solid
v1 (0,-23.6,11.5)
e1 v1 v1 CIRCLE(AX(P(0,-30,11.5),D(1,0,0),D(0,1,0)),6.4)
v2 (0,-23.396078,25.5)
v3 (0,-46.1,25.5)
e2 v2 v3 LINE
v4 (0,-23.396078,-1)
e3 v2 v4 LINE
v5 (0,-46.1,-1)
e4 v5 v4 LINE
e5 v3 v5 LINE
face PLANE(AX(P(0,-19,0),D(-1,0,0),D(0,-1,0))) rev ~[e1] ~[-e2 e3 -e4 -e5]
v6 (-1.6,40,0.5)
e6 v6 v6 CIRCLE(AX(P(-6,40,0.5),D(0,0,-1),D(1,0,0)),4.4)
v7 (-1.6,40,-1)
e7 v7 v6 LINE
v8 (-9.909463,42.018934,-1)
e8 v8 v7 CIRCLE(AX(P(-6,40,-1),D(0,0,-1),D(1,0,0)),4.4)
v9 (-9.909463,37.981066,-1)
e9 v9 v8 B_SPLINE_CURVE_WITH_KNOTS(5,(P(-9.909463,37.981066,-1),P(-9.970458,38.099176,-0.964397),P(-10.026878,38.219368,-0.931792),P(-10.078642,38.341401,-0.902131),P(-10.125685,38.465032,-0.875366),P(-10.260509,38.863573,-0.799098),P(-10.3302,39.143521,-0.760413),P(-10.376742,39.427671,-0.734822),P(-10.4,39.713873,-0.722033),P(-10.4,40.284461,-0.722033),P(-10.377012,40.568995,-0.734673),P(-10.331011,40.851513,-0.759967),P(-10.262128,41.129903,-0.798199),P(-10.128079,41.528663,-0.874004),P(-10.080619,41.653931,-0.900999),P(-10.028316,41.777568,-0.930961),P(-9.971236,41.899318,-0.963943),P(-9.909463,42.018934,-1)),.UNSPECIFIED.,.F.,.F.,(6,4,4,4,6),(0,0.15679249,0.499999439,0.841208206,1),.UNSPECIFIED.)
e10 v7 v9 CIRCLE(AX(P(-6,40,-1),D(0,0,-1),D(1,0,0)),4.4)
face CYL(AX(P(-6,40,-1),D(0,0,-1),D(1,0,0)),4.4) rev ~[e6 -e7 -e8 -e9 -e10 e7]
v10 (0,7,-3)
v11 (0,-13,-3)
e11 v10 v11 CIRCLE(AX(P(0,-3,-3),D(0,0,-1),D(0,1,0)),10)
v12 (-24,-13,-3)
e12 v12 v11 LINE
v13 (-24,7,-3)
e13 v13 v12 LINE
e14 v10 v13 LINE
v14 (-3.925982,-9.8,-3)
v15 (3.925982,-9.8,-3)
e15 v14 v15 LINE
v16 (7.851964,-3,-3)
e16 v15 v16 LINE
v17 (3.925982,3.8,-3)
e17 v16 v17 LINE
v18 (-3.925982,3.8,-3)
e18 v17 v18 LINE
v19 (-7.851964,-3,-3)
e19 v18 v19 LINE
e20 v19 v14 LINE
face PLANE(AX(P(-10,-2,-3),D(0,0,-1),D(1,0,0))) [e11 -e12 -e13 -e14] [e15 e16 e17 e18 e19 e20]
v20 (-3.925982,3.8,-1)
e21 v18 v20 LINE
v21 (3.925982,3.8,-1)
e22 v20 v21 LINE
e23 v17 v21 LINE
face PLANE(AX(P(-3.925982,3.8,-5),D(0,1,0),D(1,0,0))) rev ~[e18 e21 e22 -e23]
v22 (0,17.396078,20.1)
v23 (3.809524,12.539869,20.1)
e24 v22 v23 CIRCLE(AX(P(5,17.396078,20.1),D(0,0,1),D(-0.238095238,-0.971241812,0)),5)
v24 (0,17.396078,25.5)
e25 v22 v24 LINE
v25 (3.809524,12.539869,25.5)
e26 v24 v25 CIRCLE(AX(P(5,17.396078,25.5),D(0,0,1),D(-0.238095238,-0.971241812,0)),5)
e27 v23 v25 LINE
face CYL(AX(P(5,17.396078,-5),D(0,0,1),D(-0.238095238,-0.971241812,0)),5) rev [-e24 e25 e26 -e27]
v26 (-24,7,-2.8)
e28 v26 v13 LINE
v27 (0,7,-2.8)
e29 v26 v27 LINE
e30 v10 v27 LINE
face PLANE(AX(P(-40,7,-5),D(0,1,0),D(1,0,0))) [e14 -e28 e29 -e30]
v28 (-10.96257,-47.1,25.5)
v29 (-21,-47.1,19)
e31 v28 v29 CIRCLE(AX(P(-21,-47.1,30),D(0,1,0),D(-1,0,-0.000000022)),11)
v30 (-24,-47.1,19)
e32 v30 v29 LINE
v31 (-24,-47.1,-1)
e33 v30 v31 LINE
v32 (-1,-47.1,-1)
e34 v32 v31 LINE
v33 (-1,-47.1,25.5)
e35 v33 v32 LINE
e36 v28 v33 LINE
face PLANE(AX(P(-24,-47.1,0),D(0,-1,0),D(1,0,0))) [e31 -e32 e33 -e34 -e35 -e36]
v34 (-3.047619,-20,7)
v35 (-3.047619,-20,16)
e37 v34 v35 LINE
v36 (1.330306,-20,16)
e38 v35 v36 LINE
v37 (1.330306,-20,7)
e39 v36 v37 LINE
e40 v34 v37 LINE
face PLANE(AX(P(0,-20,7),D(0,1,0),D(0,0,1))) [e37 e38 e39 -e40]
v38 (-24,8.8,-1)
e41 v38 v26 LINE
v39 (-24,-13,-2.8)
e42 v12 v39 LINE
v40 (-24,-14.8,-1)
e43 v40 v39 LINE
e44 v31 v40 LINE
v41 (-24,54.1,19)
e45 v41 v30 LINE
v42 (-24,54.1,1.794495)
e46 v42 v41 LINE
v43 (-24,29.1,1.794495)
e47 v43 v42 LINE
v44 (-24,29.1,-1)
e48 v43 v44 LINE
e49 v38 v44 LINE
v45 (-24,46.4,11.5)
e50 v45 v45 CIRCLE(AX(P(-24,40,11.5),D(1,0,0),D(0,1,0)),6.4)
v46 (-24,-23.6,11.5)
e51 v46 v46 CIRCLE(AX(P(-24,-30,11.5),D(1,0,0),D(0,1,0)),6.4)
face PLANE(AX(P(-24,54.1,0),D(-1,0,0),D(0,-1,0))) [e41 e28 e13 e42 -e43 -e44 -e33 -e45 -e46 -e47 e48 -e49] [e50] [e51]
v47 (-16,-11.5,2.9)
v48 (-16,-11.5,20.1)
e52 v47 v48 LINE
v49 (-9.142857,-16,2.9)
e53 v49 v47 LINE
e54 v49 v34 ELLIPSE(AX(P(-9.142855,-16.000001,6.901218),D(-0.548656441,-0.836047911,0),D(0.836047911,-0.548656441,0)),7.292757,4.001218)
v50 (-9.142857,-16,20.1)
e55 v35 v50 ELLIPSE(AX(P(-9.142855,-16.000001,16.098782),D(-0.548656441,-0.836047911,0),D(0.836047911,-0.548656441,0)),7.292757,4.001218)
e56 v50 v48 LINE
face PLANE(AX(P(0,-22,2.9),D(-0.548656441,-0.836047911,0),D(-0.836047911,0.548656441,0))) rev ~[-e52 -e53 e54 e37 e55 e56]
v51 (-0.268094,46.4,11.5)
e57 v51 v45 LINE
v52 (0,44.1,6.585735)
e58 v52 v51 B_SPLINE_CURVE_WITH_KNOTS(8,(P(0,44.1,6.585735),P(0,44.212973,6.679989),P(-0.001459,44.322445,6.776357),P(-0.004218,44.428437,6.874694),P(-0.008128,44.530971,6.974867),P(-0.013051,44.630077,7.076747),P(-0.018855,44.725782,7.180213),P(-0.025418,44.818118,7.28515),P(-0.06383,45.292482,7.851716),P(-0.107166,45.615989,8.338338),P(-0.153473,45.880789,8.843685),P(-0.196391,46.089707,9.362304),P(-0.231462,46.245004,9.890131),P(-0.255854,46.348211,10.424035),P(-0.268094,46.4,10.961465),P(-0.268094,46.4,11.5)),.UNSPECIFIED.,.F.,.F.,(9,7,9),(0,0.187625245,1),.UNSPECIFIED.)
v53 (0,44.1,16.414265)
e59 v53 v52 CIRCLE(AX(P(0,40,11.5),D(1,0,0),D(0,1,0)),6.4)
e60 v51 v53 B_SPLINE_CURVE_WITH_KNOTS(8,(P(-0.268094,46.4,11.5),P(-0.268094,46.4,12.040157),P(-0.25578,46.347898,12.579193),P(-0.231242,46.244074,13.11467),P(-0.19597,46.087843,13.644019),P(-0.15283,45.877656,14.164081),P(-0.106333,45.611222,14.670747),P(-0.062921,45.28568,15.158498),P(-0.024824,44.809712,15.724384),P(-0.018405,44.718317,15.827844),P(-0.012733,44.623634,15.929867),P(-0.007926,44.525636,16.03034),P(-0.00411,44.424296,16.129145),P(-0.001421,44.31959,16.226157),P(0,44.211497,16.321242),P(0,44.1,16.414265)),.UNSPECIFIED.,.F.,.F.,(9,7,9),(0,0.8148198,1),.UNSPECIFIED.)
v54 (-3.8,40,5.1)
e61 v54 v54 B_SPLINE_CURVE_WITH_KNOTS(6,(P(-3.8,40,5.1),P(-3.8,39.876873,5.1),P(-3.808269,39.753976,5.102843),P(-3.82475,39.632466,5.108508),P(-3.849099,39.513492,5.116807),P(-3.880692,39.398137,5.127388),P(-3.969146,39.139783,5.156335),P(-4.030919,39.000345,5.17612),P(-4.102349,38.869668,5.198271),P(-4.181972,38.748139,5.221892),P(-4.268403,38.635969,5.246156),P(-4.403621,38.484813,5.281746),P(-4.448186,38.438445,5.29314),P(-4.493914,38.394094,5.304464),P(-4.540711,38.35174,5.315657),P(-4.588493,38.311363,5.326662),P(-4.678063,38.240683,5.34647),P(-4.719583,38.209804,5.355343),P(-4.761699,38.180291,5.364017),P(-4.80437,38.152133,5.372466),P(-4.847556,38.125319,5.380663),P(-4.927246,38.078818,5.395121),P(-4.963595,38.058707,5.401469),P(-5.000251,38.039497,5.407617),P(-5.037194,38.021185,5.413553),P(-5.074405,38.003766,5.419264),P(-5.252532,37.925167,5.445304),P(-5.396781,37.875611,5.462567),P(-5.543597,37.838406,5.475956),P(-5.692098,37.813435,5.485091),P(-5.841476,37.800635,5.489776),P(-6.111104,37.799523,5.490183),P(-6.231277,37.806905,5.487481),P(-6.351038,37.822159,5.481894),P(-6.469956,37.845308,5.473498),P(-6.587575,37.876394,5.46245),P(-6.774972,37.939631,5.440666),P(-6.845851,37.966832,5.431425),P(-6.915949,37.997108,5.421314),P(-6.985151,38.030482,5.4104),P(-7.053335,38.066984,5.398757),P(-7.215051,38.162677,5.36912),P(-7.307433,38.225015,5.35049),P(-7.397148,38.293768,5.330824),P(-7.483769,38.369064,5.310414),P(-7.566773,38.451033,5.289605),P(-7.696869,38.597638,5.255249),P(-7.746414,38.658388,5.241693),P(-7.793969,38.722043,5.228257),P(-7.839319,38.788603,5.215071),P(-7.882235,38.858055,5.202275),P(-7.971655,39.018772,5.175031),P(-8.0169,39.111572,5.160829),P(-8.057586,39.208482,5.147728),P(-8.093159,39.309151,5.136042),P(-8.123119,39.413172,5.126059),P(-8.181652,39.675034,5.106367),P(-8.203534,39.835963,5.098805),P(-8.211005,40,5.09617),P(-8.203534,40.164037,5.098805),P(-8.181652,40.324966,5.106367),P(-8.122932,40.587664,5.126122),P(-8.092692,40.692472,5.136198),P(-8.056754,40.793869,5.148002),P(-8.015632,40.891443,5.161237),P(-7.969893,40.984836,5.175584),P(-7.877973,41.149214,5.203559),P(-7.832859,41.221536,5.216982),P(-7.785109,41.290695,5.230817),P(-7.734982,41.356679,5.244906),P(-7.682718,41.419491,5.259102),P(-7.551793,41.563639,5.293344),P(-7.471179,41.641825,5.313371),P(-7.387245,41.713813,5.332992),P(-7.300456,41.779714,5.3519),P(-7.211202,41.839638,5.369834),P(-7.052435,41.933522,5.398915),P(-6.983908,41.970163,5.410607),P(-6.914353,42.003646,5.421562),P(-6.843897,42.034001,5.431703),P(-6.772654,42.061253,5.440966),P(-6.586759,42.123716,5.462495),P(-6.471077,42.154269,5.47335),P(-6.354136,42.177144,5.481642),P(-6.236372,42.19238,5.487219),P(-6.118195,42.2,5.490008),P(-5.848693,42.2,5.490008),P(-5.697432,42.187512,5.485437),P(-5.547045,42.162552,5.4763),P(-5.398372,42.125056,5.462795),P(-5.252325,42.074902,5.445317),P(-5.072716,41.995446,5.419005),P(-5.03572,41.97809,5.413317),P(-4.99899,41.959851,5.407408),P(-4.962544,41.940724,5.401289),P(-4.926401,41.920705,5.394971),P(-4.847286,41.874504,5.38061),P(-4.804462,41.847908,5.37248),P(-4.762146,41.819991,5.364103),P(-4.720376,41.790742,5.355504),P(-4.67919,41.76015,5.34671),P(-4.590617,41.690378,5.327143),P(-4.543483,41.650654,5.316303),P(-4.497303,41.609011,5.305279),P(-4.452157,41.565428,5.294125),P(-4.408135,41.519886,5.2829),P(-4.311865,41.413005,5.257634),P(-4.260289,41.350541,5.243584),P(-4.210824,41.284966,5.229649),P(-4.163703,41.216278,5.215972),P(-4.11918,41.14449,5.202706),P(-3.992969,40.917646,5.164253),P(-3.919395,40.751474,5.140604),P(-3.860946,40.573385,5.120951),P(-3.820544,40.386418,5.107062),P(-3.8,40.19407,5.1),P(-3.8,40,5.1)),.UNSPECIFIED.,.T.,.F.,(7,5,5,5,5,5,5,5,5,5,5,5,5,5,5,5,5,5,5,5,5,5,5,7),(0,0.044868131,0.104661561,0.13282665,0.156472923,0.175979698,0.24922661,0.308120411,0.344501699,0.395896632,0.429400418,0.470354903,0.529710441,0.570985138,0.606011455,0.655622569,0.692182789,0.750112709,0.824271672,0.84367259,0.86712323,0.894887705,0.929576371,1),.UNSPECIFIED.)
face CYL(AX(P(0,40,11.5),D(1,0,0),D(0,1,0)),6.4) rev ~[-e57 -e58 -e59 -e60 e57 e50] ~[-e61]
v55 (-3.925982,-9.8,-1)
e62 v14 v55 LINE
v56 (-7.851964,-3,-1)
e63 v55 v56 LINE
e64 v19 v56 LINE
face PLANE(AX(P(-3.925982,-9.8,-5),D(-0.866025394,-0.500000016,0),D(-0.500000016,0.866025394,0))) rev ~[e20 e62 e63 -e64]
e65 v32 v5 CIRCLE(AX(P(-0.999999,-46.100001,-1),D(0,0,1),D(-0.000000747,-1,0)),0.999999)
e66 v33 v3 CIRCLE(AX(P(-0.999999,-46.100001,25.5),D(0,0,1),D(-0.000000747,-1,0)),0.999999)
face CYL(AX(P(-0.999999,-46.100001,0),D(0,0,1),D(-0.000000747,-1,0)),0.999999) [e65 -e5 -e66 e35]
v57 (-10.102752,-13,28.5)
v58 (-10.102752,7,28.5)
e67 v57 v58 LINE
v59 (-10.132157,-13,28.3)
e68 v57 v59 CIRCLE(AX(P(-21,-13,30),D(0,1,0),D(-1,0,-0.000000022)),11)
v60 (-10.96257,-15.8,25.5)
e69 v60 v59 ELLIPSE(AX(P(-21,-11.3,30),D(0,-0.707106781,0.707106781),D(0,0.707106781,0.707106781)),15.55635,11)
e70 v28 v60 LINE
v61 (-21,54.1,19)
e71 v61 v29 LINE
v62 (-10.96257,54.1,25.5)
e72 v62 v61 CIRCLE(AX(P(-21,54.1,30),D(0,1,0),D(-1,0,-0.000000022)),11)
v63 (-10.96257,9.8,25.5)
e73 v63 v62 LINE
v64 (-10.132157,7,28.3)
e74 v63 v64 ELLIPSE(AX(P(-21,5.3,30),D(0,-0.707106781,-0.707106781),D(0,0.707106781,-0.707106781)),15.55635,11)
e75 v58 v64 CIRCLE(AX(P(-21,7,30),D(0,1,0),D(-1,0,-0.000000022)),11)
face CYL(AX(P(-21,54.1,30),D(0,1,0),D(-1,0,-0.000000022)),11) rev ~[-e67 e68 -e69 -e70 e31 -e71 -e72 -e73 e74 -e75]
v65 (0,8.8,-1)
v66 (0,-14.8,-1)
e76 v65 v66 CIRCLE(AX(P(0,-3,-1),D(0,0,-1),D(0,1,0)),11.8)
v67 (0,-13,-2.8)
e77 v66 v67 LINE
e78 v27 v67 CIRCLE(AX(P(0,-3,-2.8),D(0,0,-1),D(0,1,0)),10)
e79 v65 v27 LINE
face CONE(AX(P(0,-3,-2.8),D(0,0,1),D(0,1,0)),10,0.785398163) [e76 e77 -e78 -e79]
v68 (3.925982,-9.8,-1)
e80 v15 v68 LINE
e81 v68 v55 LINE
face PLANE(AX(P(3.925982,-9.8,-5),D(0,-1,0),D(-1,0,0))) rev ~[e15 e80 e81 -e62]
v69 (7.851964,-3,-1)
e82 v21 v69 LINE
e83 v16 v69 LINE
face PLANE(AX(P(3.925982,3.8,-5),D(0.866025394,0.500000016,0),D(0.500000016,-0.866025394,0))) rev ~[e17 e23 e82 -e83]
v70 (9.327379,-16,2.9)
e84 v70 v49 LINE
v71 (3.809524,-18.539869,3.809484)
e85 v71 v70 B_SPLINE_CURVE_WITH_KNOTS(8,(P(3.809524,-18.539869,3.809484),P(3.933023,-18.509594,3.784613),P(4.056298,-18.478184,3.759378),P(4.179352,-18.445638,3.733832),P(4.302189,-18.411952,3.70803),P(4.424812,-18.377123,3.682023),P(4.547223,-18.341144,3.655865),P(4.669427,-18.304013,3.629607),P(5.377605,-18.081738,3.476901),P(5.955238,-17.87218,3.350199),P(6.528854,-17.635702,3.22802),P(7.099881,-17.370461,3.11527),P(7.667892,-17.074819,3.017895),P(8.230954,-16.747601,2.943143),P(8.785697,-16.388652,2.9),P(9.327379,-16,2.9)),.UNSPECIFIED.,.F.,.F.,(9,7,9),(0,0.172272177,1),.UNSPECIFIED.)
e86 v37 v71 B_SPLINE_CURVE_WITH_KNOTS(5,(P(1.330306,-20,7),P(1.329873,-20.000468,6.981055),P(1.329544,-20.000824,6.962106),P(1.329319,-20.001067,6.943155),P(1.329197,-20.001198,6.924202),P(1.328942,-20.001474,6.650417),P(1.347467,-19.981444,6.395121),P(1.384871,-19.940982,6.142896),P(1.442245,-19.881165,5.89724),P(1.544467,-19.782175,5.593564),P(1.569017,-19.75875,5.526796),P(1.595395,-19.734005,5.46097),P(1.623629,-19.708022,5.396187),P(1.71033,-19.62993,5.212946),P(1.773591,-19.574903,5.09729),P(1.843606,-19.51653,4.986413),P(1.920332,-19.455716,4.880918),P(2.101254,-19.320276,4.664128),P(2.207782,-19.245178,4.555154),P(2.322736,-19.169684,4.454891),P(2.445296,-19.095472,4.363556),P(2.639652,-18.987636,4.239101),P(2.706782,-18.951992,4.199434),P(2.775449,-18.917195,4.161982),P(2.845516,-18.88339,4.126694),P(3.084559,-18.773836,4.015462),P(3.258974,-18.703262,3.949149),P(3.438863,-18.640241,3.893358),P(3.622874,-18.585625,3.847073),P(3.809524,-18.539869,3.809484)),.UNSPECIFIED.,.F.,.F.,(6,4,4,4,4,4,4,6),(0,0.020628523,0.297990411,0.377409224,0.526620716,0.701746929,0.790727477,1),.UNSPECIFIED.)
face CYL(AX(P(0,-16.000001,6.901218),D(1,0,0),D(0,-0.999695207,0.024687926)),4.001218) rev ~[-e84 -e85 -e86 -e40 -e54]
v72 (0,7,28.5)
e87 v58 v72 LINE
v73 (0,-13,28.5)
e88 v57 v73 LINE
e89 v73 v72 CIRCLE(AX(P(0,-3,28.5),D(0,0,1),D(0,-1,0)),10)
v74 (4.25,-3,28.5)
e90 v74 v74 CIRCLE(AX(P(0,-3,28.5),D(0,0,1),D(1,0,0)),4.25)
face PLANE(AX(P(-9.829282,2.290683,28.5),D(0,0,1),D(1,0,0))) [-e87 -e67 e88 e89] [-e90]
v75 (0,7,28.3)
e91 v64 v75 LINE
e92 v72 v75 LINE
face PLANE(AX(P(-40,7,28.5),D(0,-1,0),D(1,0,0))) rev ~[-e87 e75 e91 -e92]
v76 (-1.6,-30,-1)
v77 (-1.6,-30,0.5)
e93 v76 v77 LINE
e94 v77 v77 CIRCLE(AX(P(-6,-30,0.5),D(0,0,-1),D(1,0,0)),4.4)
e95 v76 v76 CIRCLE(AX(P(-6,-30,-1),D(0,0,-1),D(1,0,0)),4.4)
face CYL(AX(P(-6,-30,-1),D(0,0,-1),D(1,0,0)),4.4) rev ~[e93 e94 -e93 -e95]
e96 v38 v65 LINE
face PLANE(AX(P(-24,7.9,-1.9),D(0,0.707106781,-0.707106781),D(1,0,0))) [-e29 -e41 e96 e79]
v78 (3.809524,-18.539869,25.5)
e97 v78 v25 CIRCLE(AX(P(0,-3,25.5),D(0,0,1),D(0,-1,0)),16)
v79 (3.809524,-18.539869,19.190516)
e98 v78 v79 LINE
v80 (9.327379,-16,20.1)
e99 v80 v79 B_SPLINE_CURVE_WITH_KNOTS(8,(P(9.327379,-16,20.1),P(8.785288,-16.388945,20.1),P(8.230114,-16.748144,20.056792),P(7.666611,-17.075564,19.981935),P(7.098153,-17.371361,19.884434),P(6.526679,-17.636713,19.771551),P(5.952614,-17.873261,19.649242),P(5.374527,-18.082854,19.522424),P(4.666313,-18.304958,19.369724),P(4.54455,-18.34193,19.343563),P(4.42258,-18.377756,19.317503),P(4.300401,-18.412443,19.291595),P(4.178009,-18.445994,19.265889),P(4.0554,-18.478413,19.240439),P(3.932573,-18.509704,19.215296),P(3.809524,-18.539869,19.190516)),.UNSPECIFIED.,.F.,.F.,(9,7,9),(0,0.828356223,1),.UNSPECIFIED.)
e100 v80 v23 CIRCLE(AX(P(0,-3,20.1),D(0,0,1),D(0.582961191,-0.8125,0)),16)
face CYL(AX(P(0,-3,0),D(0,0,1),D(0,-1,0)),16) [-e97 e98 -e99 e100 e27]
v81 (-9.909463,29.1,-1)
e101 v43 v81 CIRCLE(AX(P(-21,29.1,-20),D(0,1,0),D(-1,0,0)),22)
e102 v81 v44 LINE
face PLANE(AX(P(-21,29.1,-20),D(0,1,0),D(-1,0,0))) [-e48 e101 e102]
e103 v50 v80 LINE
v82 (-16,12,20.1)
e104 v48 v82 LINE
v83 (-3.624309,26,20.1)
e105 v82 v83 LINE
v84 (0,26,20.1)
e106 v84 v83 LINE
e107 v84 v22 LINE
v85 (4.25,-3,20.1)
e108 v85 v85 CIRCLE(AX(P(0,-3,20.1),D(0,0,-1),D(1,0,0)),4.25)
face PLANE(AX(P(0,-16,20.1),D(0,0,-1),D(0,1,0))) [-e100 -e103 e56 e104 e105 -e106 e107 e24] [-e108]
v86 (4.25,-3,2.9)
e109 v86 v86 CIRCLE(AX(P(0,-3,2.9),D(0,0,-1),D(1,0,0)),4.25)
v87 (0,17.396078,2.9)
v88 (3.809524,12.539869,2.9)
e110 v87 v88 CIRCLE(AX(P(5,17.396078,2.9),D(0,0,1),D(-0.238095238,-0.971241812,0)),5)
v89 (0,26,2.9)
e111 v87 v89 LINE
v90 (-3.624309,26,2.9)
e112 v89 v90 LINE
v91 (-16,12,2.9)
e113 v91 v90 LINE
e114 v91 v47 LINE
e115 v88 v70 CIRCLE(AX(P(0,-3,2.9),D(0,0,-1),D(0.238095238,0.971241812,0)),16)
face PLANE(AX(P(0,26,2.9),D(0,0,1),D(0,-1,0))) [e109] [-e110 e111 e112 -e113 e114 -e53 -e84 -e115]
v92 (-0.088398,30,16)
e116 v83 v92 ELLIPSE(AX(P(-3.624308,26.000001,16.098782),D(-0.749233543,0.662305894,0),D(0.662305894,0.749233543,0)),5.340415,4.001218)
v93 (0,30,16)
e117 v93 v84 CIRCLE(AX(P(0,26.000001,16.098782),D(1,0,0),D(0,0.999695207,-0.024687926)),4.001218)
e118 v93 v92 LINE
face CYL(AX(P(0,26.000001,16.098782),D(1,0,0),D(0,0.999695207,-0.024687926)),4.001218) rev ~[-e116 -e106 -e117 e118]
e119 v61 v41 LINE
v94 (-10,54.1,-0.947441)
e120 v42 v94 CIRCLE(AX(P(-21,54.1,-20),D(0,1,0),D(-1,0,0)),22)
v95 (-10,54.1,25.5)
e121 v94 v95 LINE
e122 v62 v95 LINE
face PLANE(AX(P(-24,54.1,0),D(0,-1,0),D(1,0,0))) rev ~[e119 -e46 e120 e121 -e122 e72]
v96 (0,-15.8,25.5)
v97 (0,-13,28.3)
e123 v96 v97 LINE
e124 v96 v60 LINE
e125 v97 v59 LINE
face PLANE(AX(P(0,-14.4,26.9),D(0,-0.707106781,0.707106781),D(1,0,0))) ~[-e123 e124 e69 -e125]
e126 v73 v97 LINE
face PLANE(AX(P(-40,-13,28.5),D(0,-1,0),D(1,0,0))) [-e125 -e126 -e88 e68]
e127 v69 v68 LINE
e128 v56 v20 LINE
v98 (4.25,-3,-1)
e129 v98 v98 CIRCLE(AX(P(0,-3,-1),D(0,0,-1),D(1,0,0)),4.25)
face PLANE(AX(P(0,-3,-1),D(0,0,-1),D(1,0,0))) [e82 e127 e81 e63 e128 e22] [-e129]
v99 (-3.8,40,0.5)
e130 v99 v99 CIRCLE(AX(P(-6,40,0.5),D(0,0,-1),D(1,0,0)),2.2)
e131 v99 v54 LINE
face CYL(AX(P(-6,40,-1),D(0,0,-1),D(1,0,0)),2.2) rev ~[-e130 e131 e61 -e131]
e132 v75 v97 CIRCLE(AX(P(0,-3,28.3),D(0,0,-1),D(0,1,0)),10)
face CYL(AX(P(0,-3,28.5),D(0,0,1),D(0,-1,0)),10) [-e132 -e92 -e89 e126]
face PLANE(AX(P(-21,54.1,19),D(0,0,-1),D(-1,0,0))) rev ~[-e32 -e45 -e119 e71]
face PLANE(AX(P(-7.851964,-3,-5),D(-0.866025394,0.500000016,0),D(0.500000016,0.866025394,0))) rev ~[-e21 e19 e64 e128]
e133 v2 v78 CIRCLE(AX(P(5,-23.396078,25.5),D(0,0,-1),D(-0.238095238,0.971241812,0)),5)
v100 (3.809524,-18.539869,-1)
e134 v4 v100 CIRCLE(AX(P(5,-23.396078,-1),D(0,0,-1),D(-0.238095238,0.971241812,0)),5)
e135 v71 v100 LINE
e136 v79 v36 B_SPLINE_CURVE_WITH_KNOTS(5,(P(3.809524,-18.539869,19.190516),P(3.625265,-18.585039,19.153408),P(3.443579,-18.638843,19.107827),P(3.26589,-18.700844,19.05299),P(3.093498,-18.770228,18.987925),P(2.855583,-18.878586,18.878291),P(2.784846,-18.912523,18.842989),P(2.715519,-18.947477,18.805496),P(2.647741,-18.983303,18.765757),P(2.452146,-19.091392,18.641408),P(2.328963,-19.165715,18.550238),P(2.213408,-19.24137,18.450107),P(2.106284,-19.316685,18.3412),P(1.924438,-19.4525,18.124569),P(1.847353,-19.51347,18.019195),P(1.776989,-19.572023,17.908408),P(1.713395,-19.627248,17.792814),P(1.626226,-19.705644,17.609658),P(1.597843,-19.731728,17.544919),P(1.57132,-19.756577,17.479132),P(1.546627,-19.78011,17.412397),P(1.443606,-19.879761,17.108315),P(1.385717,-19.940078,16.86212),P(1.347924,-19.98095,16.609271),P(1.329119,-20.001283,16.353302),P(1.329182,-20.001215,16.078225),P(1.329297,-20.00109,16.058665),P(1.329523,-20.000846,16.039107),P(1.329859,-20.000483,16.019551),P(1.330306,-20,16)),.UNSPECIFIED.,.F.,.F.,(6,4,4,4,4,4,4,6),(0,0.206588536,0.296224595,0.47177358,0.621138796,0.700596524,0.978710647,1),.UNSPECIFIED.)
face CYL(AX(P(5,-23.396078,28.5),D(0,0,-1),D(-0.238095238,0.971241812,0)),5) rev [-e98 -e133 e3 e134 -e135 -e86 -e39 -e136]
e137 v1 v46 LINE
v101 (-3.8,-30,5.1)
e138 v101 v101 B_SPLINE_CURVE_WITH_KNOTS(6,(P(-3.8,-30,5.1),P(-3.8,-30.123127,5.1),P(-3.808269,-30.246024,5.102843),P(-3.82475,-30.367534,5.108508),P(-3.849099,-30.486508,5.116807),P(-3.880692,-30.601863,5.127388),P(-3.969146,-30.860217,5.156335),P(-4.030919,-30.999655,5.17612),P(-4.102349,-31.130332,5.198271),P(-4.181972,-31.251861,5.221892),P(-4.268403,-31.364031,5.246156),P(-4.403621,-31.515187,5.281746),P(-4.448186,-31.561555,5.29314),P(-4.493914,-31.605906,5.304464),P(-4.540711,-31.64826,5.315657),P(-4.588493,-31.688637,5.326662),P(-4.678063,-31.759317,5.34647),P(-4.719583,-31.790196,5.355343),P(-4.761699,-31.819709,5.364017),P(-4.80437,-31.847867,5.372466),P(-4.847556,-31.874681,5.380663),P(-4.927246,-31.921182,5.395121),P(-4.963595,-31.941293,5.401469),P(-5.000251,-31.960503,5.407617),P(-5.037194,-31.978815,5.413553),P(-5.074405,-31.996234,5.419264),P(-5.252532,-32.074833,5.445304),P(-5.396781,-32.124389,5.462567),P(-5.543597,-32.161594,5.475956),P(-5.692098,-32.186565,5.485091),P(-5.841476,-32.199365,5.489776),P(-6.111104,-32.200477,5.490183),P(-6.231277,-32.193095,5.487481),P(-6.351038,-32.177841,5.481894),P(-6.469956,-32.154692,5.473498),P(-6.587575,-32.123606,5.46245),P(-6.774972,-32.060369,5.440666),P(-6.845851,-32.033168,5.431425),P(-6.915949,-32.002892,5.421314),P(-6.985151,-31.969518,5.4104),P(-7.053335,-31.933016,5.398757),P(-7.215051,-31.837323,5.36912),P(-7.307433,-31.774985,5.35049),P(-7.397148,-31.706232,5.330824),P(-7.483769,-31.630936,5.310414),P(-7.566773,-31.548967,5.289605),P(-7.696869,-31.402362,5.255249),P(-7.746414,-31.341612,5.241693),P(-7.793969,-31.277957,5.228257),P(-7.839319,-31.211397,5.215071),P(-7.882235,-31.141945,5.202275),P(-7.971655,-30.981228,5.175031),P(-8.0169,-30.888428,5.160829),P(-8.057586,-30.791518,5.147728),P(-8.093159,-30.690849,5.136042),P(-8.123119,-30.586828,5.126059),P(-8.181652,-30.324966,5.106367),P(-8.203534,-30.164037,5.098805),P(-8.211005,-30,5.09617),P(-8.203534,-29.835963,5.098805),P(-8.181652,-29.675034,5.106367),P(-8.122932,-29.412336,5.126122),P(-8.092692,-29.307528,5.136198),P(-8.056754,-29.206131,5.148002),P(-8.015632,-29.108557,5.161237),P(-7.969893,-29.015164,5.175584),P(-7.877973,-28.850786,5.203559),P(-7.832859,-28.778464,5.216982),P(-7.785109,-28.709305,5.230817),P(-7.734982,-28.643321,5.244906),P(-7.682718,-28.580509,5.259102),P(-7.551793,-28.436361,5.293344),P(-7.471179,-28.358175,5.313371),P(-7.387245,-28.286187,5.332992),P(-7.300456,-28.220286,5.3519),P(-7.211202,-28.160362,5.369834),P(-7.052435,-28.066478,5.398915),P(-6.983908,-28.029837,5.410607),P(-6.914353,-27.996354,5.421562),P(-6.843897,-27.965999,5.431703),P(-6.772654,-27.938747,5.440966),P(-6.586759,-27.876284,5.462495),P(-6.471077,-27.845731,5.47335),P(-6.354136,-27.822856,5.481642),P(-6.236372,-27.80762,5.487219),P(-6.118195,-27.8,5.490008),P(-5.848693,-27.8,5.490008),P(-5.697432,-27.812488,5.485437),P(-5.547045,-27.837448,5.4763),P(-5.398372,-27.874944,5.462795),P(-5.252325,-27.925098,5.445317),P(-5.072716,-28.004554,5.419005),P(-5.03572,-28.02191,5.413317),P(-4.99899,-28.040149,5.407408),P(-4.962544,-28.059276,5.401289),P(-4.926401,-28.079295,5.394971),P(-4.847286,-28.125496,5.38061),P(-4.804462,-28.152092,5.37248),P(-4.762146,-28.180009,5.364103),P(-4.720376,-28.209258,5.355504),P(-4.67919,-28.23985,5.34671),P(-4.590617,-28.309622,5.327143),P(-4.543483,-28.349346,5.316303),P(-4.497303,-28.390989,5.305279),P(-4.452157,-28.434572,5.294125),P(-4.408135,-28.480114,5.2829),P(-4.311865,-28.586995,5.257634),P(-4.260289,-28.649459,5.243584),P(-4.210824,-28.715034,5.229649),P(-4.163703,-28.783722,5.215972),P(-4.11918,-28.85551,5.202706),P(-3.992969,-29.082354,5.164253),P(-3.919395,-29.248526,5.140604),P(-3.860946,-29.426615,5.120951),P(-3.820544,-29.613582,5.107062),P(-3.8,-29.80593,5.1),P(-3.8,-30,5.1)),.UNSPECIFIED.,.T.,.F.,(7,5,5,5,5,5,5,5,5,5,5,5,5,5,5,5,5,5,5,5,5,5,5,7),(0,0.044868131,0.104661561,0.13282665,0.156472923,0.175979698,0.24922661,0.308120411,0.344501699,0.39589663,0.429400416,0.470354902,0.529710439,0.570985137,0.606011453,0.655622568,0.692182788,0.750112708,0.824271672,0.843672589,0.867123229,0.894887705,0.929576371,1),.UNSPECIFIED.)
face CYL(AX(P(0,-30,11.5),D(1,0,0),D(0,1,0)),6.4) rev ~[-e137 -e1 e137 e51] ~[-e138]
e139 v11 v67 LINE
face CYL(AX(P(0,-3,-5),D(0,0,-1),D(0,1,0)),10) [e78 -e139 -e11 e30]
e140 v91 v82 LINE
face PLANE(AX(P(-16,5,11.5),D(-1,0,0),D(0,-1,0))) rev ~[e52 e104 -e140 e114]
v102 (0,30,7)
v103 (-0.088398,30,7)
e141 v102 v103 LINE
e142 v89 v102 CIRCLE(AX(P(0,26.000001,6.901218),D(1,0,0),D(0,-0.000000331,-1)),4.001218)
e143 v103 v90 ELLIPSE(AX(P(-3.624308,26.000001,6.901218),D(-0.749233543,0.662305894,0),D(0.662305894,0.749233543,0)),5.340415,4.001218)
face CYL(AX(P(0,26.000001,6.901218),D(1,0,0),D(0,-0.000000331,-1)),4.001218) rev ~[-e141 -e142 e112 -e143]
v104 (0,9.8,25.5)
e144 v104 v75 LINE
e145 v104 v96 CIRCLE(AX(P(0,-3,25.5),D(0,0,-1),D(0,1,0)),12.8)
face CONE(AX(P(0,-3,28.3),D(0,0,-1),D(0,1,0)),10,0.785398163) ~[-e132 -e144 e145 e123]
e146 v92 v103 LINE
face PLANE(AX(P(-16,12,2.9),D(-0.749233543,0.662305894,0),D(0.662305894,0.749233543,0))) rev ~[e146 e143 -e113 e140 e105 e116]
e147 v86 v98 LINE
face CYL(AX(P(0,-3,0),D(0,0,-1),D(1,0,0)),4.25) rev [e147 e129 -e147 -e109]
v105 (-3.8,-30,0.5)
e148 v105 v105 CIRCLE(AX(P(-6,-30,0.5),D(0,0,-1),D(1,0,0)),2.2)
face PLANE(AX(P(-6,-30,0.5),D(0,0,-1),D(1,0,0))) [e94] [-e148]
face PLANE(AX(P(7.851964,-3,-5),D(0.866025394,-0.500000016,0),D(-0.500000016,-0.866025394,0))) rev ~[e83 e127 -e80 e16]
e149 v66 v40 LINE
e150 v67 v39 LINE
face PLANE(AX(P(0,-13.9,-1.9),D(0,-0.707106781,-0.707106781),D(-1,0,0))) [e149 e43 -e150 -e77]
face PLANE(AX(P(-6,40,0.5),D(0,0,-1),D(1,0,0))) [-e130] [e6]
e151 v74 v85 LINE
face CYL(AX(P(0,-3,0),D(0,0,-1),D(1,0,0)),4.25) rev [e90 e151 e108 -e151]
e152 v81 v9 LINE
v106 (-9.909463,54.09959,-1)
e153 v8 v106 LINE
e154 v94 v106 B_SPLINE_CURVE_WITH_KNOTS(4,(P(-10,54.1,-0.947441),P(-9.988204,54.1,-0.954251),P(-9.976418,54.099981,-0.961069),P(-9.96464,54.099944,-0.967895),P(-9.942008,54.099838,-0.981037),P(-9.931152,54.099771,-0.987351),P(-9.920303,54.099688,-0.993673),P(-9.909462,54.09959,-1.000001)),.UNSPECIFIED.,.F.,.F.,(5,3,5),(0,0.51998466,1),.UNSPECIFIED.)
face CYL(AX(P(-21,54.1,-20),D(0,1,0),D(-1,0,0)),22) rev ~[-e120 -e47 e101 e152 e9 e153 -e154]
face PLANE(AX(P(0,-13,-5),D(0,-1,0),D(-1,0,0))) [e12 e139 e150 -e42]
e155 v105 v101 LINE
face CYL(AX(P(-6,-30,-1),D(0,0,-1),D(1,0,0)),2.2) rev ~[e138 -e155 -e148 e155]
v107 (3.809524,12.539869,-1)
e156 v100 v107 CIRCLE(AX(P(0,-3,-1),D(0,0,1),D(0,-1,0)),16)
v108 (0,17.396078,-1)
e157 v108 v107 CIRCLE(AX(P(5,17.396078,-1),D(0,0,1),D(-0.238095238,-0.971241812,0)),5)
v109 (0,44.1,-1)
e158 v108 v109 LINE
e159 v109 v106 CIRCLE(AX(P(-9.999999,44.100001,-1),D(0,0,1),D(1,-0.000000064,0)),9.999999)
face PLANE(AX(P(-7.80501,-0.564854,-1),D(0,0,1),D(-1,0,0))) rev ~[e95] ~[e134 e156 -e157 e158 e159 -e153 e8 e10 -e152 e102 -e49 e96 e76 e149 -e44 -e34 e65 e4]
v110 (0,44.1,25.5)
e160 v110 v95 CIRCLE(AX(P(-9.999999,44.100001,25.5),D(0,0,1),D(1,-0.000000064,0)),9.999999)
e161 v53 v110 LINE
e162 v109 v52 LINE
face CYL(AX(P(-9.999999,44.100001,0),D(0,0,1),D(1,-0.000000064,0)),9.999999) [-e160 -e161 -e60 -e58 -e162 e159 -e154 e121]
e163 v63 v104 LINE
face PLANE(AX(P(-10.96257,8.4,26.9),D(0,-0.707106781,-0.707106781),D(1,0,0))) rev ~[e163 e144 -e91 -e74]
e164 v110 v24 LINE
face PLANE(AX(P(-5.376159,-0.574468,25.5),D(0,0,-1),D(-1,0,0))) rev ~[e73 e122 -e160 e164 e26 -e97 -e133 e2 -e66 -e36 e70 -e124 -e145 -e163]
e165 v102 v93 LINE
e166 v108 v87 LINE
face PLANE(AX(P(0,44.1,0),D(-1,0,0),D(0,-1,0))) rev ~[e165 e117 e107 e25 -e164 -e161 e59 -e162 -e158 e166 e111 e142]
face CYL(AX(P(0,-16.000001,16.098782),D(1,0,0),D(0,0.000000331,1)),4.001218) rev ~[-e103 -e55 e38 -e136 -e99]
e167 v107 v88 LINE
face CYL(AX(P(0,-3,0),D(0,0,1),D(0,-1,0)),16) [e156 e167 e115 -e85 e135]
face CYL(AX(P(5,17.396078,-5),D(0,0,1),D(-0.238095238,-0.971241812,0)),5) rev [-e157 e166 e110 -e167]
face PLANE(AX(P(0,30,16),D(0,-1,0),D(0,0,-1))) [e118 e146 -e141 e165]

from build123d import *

# Parameters (mm, degrees)
SKETCH_R          = 4.25
PAD_DEPTH         = 28.5
PAD_DEPTH_BACK    = 5
FILLET_R          = 5
SKETCH002_R       = 6.4
POCKET_DEPTH      = 24.001
POCKET_DEPTH_BACK = -16.001
POCKET001_DEPTH   = 3
POCKET002_DEPTH   = 4
POCKET003_DEPTH   = 101.201
POCKET004_DEPTH   = 4
POCKET005_DEPTH   = 16
SKETCH028_R       = 22
POCKET006_DEPTH   = 25
SKETCH031_R       = 2.2
POCKET007_DEPTH   = 9
PAD001_DEPTH      = 17.2
SKETCH038_W       = 50
SKETCH038_H       = 26
POCKET008_DEPTH   = 2
SKETCH039_R       = 4.4
POCKET009_DEPTH   = 1.5
CHAMFER_SIZE      = 1.8
CHAMFER001_SIZE   = 2.8


with BuildPart() as part:
    # Sketch → Pad (new body, two sides)
    with BuildSketch(Plane.XY) as pad_sk:
        with BuildLine():
            ThreePointArc((0, -19), (16, -3), (0, 13))
            Line((0, 44.1), (0, 13))
            ThreePointArc((0, 44.1), (-2.928932, 51.171068), (-10, 54.1))
            Line((-24, 54.1), (-10, 54.1))
            Line((-24, 54.1), (-24, -47.1))
            Line((-24, -47.1), (-1, -47.1))
            ThreePointArc((-1, -47.1), (-0.292893, -46.807107), (0, -46.1))
            Line((0, -19), (0, -46.1))
        make_face()
        with Locations((0, -3)):
            Circle(SKETCH_R, mode=Mode.SUBTRACT)
    extrude(amount=PAD_DEPTH)
    extrude(pad_sk.sketch, amount=-PAD_DEPTH_BACK)

    # Fillet
    fillet_edges = [part.edges().sort_by_distance(p)[0] for p in [
        (0, 13, 11.75),
        (0, -19, 11.75),
    ]]
    fillet(fillet_edges, radius=FILLET_R)

    # Sketch002 → Pocket (cut, two sides)
    with BuildSketch(Plane.YZ) as pocket_sk:
        with Locations((-30, 11.5)):
            Circle(SKETCH002_R)
        with Locations((40, 11.5)):
            Circle(SKETCH002_R)
    extrude(amount=-POCKET_DEPTH, mode=Mode.SUBTRACT)
    extrude(pocket_sk.sketch, amount=-POCKET_DEPTH_BACK, mode=Mode.SUBTRACT)

    # Sketch013 → Pocket001 (cut)
    with BuildSketch(Plane.XY.offset(28.5)):
        with BuildLine():
            ThreePointArc((0, -13), (10, -3), (0, 7))
            Line((-40, 7), (0, 7))
            Line((-40, 7), (-40, 60))
            Line((-40, 60), (30, 60))
            Line((30, 60), (30, -60))
            Line((30, -60), (-40, -60))
            Line((-40, -60), (-40, -13))
            Line((-40, -13), (0, -13))
        make_face()
    extrude(amount=-POCKET001_DEPTH, mode=Mode.SUBTRACT)

    # Sketch024 → Pocket002 (cut)
    with BuildSketch(Plane(origin=(0, 0, -5), x_dir=(1, 0, 0), z_dir=(0, 0, -1))):
        with BuildLine():
            Line((0, 13), (-40, 13))
            Line((-40, 13), (-40, 65))
            Line((-40, 65), (24, 65))
            Line((24, 65), (24, -65))
            Line((24, -65), (-40, -65))
            Line((-40, -7), (-40, -65))
            Line((-40, -7), (0, -7))
            ThreePointArc((0, -7), (10, 3), (0, 13))
        make_face()
    extrude(amount=-POCKET002_DEPTH, mode=Mode.SUBTRACT)

    # Sketch029 → Pocket003 (cut, through all)
    with BuildSketch(Plane(origin=(0, 54.1, 0), x_dir=(-1, 0, 0), z_dir=(0, 1, 0))):
        with BuildLine():
            ThreePointArc((32, 30), (13.221825, 37.778175), (21, 19))
            Line((21, 19), (32, 19))
            Line((32, 30), (32, 19))
        make_face()
    extrude(amount=-POCKET003_DEPTH, mode=Mode.SUBTRACT)

    # Sketch027 → Pocket004 (cut)
    with BuildSketch(Plane(origin=(0, 0, -5), x_dir=(1, 0, 0), z_dir=(0, 0, -1))):
        Polygon((3.925982, 9.8), (-3.925982, 9.8), (-7.851964, 3), (-3.925982, -3.8), (3.925982, -3.8), (7.851964, 3), align=None)
    extrude(amount=-POCKET004_DEPTH, mode=Mode.SUBTRACT)

    # Sketch025 → Pocket005 (cut, symmetric)
    with BuildSketch(Plane.YZ):
        with BuildLine():
            Line((-16, 20.1), (26, 20.1))
            ThreePointArc((30, 16), (28.864001, 18.892928), (26, 20.1))
            Line((30, 16), (30, 7))
            ThreePointArc((26, 2.9), (28.864001, 4.107072), (30, 7))
            Line((26, 2.9), (-16, 2.9))
            ThreePointArc((-20, 7), (-18.864001, 4.107072), (-16, 2.9))
            Line((-20, 7), (-20, 16))
            ThreePointArc((-16, 20.1), (-18.864001, 18.892928), (-20, 16))
        make_face()
    extrude(amount=POCKET005_DEPTH, both=True, mode=Mode.SUBTRACT)

    # Sketch028 → Pocket006 (cut)
    with BuildSketch(Plane(origin=(0, 54.1, 0), x_dir=(-1, 0, 0), z_dir=(0, 1, 0))):
        with Locations((21, -20)):
            Circle(SKETCH028_R)
    extrude(amount=-POCKET006_DEPTH, mode=Mode.SUBTRACT)

    # Sketch031 → Pocket007 (cut)
    with BuildSketch(Plane(origin=(0, 0, -1), x_dir=(1, 0, 0), z_dir=(0, 0, -1))):
        with Locations((-6, 30)):
            Circle(SKETCH031_R)
        with Locations((-6, -40)):
            Circle(SKETCH031_R)
    extrude(amount=-POCKET007_DEPTH, mode=Mode.SUBTRACT)

    # Sketch032 → Pad001 (new body)
    with BuildSketch(Plane.XY.offset(2.9)):
        Polygon((0, -22), (-16, -11.5), (-16, -22), align=None)
        Polygon((-16, 12), (0, 30.1), (-16, 30.1), align=None)
    extrude(amount=PAD001_DEPTH)

    # Sketch038 → Pocket008 (cut)
    with BuildSketch(Plane(origin=(0, 0, -5), x_dir=(1, 0, 0), z_dir=(0, 0, -1))):
        with Locations((-10, 2)):
            Rectangle(SKETCH038_W, SKETCH038_H)
    extrude(amount=-POCKET008_DEPTH, mode=Mode.SUBTRACT)

    # Sketch039 → Pocket009 (cut)
    with BuildSketch(Plane(origin=(0, 0, -1), x_dir=(1, 0, 0), z_dir=(0, 0, -1))):
        with Locations((-6, 30)):
            Circle(SKETCH039_R)
        with Locations((-6, -40)):
            Circle(SKETCH039_R)
    extrude(amount=-POCKET009_DEPTH, mode=Mode.SUBTRACT)

    # Chamfer
    chamfer_edges = [part.edges().sort_by_distance(p)[0] for p in [
        (-12, -13, -1),
        (10, -3, -1),
        (-12, 7, -1),
    ]]
    chamfer(chamfer_edges, length=CHAMFER_SIZE)

    # Chamfer001
    chamfer001_edges = [part.edges().sort_by_distance(p)[0] for p in [
        (-5.481285, 7, 25.5),
        (10, -3, 25.5),
        (-5.481285, -13, 25.5),
    ]]
    chamfer(chamfer001_edges, length=CHAMFER001_SIZE)


solid = part.part
